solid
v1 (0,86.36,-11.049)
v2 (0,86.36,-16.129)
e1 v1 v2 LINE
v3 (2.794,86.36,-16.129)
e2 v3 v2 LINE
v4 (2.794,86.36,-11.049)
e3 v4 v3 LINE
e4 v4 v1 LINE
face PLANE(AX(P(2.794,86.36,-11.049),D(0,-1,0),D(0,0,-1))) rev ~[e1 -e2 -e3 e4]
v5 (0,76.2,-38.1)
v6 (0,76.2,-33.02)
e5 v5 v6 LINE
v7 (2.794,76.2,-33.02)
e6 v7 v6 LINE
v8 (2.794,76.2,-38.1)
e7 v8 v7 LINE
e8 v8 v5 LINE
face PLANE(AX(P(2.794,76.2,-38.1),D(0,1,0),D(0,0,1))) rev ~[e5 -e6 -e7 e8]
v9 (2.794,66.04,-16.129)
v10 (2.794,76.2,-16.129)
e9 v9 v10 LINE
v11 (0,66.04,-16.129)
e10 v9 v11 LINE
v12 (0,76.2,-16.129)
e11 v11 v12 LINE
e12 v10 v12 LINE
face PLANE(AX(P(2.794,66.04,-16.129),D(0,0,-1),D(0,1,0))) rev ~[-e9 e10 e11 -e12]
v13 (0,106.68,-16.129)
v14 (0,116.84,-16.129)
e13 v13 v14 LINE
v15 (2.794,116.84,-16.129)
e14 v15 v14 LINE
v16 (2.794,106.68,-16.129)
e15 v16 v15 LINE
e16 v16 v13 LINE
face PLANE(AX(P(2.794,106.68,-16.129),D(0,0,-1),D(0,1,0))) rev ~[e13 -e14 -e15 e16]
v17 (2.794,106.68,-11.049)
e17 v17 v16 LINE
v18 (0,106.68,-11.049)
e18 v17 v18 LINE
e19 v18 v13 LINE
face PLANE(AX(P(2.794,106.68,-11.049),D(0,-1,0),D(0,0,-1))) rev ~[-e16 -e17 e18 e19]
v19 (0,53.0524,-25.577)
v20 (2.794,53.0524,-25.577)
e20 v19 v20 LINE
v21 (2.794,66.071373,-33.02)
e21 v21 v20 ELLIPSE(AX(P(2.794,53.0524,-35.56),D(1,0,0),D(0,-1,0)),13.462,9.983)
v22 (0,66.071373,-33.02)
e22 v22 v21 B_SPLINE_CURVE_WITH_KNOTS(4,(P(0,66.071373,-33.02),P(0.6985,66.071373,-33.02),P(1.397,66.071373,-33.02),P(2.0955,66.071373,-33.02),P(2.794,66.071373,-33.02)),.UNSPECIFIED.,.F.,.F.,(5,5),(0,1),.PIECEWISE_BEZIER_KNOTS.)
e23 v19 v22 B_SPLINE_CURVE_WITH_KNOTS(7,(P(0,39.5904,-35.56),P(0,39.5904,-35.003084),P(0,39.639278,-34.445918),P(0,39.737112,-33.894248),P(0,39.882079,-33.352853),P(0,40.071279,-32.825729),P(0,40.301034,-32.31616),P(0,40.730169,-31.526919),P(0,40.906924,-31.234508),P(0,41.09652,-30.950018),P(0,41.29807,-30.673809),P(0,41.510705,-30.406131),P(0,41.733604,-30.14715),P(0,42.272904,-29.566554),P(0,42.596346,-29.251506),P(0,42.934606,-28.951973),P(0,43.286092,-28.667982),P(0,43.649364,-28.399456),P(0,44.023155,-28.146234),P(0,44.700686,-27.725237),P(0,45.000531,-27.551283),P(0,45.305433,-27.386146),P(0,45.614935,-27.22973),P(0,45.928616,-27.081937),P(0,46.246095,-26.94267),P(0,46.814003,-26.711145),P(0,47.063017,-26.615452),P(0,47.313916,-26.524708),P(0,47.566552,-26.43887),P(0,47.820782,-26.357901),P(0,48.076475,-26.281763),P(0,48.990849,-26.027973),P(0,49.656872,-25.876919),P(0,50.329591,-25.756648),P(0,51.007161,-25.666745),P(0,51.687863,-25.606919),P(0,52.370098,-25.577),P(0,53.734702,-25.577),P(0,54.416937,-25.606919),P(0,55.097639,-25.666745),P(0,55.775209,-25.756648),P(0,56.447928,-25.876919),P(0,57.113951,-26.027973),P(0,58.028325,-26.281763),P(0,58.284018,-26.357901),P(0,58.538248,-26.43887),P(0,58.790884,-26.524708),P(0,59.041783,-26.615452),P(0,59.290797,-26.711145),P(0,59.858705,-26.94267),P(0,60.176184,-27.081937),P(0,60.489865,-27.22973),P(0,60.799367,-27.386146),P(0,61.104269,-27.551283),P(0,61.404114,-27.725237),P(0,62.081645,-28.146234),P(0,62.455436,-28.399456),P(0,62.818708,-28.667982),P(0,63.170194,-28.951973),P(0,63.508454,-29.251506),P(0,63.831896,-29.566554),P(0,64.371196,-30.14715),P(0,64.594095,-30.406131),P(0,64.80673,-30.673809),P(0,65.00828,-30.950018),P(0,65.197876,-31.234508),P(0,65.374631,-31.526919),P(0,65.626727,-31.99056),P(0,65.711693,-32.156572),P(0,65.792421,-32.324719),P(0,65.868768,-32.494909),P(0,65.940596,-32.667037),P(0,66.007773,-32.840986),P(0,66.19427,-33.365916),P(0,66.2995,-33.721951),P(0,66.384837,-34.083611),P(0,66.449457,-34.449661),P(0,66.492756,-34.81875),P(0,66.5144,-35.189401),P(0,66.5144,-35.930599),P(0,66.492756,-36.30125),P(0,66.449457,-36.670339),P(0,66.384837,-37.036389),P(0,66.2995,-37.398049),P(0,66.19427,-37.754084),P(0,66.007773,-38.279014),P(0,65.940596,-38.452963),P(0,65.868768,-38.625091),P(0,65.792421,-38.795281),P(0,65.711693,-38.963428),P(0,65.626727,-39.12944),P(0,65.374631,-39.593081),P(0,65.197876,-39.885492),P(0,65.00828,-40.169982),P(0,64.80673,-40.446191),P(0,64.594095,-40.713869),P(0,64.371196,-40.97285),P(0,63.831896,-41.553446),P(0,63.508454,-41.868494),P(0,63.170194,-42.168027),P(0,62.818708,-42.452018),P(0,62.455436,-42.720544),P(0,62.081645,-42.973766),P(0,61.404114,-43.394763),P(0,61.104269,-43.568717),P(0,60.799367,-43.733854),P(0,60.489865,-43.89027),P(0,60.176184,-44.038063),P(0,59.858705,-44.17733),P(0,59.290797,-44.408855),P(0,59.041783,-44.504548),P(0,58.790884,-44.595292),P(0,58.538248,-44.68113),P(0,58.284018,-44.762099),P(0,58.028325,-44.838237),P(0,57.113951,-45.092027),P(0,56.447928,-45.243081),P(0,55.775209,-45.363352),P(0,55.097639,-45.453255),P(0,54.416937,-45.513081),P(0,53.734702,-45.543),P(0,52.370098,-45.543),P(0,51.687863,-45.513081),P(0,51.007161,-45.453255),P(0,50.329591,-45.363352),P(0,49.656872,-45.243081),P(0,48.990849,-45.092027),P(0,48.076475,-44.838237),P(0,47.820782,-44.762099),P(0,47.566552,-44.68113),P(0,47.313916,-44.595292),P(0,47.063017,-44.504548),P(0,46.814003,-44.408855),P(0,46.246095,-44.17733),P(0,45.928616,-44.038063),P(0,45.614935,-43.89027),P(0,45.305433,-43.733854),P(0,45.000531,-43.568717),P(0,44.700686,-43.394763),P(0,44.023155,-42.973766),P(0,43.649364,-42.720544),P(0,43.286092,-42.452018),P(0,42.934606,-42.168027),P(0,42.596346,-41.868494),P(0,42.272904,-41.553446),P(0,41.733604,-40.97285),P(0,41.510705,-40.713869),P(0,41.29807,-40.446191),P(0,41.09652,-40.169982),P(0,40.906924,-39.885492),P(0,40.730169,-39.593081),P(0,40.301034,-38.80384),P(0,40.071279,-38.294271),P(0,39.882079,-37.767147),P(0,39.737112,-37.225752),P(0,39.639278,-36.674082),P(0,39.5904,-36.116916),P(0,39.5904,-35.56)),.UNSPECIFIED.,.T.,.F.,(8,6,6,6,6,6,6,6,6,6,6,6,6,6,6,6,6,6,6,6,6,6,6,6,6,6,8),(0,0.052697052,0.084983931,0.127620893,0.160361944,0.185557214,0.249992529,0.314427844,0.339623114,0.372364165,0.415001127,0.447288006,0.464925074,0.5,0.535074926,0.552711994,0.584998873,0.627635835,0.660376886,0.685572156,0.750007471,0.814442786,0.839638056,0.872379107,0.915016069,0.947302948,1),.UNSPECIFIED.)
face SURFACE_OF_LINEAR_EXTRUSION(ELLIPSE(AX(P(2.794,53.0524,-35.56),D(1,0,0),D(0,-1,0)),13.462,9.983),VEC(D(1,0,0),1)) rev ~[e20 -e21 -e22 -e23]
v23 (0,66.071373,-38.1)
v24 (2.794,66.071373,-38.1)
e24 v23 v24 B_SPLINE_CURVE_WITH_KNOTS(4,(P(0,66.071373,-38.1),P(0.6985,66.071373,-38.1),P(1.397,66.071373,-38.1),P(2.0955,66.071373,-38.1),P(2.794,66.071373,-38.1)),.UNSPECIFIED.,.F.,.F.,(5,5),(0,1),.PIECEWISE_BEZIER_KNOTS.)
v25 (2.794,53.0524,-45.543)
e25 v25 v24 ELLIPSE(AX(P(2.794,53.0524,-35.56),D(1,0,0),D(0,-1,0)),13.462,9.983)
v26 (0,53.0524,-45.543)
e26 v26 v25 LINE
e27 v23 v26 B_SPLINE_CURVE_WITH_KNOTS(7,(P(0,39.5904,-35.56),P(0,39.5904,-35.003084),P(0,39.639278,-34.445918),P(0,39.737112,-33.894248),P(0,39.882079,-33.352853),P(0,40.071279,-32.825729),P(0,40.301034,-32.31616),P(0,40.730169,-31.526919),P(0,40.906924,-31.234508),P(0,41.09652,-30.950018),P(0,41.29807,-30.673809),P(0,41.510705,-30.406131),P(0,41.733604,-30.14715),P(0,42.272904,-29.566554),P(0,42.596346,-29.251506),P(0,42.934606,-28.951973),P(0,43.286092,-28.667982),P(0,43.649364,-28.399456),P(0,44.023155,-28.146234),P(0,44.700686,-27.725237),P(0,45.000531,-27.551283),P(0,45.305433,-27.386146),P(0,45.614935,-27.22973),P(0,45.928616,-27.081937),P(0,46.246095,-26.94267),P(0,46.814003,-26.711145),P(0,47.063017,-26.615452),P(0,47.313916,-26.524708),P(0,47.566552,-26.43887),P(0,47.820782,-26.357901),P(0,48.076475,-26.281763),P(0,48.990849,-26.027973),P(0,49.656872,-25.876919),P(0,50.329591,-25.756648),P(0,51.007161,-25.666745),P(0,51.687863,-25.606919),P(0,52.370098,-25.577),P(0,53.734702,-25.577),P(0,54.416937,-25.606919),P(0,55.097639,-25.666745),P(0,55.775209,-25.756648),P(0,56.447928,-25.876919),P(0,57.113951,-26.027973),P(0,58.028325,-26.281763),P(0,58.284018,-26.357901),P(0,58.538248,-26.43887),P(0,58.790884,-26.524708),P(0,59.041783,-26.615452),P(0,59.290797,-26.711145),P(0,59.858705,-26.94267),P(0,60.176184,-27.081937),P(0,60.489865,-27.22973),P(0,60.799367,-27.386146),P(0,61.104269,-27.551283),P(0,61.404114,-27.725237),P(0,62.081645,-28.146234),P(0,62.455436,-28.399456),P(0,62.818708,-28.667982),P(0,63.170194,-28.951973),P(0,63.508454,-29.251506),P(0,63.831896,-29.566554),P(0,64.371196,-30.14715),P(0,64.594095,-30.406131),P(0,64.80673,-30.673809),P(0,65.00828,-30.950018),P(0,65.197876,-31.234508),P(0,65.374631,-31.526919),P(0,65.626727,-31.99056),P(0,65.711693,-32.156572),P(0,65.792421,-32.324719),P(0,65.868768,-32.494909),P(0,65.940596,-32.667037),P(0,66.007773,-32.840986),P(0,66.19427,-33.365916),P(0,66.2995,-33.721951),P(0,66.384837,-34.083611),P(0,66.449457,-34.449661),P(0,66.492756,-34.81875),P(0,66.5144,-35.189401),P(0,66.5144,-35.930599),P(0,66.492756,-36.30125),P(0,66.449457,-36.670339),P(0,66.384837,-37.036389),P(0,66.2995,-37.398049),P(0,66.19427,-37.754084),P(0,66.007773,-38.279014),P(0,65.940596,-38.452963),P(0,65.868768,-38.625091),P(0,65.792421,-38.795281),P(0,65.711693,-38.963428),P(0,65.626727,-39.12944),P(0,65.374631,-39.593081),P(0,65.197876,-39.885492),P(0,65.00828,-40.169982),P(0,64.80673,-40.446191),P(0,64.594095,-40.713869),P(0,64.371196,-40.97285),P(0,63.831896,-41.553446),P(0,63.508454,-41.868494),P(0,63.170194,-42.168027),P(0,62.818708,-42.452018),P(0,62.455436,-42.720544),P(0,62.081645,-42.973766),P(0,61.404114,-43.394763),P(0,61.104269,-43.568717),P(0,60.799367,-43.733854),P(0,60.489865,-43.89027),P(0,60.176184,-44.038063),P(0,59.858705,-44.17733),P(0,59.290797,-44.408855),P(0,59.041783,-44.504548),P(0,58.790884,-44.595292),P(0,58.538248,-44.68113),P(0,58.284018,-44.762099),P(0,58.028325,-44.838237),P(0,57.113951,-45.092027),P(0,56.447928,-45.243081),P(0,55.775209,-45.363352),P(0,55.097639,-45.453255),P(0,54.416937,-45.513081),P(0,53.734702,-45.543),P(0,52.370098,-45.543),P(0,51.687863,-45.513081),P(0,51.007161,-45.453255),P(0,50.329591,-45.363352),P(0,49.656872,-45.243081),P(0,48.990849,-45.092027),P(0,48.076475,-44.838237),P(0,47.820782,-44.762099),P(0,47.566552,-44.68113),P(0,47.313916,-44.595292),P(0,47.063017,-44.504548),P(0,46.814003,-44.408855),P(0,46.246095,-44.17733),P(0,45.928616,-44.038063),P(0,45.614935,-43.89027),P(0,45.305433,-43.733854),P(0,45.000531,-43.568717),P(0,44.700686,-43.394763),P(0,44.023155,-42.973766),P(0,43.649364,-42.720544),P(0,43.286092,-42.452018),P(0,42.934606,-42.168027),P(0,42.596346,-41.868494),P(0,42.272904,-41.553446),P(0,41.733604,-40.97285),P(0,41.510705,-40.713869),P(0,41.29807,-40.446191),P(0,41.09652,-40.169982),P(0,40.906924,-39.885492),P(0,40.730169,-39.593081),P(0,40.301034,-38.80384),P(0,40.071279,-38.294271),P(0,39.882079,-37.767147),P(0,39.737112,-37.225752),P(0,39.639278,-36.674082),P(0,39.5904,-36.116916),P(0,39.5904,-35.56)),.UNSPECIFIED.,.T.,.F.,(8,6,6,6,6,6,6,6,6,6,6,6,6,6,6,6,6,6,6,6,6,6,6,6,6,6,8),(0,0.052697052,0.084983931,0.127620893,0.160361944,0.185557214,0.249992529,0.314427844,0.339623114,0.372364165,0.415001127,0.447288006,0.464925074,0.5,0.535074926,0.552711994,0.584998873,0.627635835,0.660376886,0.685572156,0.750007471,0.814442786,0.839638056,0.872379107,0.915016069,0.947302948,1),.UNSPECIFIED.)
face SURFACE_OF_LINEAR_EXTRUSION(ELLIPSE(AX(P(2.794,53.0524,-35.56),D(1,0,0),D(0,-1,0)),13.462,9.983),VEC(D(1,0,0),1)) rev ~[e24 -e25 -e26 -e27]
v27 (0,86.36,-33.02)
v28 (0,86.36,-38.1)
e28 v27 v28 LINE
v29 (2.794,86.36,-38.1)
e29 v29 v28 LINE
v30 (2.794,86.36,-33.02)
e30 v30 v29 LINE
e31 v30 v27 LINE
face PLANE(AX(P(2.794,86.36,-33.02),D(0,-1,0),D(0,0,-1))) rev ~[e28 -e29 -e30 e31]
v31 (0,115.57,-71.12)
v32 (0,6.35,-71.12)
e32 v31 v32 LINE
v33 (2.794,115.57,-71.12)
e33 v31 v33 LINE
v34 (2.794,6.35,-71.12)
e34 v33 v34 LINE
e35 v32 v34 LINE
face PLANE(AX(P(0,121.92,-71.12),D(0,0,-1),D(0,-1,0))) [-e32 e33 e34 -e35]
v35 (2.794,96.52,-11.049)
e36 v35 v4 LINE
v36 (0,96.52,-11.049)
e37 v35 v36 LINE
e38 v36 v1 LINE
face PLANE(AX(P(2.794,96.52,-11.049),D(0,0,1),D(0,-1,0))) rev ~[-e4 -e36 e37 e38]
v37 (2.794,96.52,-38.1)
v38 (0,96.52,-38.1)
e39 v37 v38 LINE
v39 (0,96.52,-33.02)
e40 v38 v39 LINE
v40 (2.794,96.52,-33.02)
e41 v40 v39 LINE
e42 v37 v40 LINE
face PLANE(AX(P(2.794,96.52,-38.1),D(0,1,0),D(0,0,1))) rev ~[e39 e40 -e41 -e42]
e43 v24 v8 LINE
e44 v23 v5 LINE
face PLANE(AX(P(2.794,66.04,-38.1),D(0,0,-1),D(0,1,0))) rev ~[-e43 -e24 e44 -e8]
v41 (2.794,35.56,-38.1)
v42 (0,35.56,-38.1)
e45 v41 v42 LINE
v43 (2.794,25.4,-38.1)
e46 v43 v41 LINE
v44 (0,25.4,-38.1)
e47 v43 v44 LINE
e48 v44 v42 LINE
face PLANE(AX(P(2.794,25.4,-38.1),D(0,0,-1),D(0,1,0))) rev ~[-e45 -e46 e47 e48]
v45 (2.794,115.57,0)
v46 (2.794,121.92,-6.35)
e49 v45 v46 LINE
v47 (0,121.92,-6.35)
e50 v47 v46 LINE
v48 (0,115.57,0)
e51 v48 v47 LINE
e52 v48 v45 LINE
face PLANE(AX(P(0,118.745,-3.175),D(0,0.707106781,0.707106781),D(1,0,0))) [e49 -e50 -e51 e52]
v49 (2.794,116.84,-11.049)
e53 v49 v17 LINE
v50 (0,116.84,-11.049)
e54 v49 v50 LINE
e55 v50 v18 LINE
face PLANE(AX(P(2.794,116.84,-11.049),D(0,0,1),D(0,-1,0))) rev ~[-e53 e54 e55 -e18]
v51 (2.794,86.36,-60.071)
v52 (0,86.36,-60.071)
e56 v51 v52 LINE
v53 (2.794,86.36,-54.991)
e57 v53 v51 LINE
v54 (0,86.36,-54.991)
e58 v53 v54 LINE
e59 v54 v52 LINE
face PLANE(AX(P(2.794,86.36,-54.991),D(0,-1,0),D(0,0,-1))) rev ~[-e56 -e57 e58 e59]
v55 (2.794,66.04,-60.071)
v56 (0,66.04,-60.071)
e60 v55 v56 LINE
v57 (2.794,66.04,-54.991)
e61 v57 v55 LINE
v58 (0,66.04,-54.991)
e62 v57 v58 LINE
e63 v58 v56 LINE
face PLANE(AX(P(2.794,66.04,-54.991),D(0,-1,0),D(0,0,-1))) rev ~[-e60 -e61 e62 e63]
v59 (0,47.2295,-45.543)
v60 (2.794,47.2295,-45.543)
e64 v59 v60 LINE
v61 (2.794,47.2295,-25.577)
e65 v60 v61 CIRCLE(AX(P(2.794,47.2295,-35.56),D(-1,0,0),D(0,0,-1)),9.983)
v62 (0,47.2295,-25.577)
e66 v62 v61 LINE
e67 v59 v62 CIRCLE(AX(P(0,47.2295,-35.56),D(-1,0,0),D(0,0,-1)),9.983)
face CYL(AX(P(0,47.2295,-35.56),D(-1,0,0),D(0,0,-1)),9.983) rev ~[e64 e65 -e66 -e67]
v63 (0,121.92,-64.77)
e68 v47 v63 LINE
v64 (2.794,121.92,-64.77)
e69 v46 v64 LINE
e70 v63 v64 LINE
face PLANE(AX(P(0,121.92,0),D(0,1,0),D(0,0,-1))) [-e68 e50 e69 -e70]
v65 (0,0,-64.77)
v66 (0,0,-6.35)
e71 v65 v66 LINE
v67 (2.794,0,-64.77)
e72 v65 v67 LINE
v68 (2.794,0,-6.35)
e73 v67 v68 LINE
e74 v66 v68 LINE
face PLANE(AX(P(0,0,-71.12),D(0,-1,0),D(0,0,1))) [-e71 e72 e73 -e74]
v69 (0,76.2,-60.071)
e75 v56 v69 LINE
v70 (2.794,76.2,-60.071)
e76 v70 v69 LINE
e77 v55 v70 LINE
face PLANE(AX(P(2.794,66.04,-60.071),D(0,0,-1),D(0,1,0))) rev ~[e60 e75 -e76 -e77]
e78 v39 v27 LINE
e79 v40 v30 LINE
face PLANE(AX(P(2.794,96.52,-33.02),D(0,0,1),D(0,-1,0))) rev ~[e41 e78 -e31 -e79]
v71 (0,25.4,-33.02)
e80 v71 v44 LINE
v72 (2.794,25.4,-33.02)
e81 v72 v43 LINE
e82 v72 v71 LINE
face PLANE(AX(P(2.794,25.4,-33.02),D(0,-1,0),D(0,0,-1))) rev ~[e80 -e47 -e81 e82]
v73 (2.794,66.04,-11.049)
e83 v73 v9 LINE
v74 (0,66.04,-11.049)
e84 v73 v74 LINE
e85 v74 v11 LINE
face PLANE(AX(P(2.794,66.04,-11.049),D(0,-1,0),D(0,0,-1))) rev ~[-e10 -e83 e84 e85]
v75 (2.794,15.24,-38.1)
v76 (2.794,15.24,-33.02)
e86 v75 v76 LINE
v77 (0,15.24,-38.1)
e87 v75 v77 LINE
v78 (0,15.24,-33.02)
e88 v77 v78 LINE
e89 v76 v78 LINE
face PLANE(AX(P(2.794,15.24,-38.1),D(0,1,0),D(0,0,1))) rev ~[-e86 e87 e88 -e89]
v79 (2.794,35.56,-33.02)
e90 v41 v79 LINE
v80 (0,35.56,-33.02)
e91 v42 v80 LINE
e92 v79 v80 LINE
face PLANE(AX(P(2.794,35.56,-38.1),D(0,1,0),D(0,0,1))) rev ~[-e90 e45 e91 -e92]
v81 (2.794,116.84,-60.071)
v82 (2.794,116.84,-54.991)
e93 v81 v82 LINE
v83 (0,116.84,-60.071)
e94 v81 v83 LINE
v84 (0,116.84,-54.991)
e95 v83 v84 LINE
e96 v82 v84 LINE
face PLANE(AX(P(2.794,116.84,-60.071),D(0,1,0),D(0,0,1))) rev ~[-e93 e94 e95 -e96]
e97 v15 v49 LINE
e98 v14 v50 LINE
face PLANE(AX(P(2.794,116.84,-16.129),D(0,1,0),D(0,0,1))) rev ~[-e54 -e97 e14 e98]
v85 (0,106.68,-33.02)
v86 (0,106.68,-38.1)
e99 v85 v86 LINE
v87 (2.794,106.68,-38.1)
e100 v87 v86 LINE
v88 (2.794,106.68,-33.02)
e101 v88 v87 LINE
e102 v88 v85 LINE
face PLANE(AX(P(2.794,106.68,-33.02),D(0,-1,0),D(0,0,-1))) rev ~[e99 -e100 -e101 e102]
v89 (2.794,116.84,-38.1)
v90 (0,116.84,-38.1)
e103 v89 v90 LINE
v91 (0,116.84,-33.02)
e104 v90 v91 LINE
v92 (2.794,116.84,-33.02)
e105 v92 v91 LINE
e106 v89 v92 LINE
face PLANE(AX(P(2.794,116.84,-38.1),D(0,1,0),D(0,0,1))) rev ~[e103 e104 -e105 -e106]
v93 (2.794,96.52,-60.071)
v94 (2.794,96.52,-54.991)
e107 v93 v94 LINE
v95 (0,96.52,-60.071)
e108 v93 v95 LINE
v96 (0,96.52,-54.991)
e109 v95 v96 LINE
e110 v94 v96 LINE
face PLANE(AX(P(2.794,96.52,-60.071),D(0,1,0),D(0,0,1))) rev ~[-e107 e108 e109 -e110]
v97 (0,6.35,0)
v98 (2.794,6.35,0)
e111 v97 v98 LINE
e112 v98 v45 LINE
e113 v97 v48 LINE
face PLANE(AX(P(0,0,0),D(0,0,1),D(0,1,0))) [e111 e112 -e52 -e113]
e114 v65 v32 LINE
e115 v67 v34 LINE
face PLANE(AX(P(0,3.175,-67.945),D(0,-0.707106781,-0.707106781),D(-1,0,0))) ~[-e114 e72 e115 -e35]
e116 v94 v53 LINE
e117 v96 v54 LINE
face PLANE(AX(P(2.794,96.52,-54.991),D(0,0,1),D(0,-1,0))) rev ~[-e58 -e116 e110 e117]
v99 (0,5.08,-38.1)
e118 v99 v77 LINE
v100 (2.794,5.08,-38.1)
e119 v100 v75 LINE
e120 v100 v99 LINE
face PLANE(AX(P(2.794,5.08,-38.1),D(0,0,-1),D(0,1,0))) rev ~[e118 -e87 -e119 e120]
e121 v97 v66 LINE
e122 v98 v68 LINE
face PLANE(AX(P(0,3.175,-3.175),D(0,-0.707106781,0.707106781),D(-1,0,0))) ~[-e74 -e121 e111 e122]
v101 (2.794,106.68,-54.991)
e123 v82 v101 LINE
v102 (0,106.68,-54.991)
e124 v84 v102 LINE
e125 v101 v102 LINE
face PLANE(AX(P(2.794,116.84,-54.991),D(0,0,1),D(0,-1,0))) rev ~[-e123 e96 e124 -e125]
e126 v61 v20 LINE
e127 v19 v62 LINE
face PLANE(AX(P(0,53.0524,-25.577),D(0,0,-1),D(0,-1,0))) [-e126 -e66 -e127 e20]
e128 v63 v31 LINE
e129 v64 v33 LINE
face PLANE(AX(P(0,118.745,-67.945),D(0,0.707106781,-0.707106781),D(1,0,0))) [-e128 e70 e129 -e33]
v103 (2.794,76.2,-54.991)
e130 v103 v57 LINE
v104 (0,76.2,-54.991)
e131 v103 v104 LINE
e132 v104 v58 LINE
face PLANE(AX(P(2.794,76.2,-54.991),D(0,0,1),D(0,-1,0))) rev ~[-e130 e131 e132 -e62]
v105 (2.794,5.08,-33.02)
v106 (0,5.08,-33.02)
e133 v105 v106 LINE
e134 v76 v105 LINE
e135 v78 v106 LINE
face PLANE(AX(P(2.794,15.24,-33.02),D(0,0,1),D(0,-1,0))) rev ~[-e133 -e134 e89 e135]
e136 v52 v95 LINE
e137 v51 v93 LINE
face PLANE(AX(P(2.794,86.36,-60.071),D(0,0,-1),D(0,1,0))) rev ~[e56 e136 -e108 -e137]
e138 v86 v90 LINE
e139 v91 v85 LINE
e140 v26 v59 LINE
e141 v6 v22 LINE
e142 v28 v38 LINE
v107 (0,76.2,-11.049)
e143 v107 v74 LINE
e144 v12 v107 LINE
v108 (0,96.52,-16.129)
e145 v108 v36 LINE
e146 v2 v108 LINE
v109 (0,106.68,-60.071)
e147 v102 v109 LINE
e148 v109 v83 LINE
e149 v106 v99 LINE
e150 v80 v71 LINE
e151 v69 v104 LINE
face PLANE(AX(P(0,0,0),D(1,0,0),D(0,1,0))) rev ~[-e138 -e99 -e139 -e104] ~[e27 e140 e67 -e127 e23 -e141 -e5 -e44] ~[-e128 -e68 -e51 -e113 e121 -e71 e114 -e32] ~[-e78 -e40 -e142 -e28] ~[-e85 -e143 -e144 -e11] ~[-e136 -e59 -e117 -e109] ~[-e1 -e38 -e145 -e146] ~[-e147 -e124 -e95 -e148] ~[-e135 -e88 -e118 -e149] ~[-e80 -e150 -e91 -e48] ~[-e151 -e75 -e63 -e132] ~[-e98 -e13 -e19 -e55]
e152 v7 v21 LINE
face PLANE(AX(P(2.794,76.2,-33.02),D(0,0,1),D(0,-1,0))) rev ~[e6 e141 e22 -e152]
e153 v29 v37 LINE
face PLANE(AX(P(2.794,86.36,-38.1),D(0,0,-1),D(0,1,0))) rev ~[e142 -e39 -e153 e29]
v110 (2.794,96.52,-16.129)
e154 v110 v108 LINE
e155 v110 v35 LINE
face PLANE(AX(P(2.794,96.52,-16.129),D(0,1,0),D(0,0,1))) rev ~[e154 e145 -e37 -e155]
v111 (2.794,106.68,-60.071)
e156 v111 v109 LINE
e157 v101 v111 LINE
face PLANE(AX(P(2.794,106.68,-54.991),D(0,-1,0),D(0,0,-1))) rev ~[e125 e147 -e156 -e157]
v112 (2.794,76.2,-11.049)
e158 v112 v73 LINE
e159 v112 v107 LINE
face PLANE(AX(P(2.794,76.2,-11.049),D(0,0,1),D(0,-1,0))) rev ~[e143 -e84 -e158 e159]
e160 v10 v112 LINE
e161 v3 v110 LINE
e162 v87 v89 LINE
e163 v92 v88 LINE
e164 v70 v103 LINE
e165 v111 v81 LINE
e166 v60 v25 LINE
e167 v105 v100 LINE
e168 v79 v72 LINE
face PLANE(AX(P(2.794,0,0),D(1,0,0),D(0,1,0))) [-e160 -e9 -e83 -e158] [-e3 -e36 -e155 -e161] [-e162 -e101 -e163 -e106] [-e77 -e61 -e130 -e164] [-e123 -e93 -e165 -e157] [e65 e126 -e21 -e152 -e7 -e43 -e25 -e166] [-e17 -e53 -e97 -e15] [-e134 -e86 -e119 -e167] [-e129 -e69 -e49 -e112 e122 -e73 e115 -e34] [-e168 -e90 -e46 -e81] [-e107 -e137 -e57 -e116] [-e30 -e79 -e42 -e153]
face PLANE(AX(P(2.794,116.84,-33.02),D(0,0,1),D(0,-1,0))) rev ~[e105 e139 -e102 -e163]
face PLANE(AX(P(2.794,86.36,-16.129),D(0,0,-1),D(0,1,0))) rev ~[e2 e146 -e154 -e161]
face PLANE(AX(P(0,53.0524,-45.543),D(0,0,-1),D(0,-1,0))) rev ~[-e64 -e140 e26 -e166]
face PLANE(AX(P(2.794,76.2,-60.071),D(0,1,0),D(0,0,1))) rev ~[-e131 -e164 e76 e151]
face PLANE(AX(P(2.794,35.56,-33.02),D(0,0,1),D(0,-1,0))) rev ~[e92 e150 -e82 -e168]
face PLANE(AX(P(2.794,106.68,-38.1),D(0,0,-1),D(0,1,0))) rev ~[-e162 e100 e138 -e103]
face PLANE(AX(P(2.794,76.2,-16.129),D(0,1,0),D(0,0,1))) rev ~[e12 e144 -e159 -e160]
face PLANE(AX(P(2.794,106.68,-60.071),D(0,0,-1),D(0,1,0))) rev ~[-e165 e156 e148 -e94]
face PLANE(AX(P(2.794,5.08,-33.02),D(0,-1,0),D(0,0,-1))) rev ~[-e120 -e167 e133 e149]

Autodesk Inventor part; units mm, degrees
ref_plane "YZ Plane" through (0, 0, 0) normal (1, 0, 0) x (0, 1, 0)
ref_plane "XZ Plane" through (0, 0, 0) normal (0, 1, 0) x (-1, 0, 0)
ref_plane "XY Plane" through (0, 0, 0) normal (0, 0, 1) x (1, 0, 0)
sketch "Sketch1" plane through (0, 0, 0) normal (1, 0, 0) x (0, 1, 0)
  line L0 (0, 0) -> (121.92, 0)
  line L1 (121.92, 0) -> (121.92, -71.12)
  line L2 (121.92, -71.12) -> (0, -71.12)
  line L3 (0, -71.12) -> (0, 0)
  dimension "d0" = 121.92
  dimension "d1" = 71.12
extrude "Extrusion1" add sketch "Sketch1" along normal blind 2.794
sketch "Sketch2" plane through (2.794, 0, 0) normal (1, 0, 0) x (0, 0, -1)
  line L0 (0, 121.92) -> (0, 0) projected
  line L1 (0, 0) -> (71.12, 0) projected
  line L2 (71.12, 0) -> (71.12, 121.92) projected
  line L3 (71.12, 121.92) -> (0, 121.92) projected
  line L4 (71.12, 121.92) -> (0, 121.92) construction
  line L5 (35.56, 121.92) -> (35.56, 0) construction
  line L6 (33.02, 5.08) -> (38.1, 5.08)
  line L7 (38.1, 5.08) -> (38.1, 15.24)
  line L8 (38.1, 15.24) -> (33.02, 15.24)
  line L9 (33.02, 15.24) -> (33.02, 5.08)
  line L10 (33.02, 25.4) -> (38.1, 25.4)
  line L11 (38.1, 25.4) -> (38.1, 35.56)
  line L12 (38.1, 35.56) -> (33.02, 35.56)
  line L13 (33.02, 35.56) -> (33.02, 25.4)
  line L14 (33.02, 45.72) -> (38.1, 45.72)
  line L15 (38.1, 45.72) -> (38.1, 55.88)
  line L16 (38.1, 55.88) -> (33.02, 55.88)
  line L17 (33.02, 55.88) -> (33.02, 45.72)
  line L18 (33.02, 66.04) -> (38.1, 66.04)
  line L19 (38.1, 66.04) -> (38.1, 76.2)
  line L20 (38.1, 76.2) -> (33.02, 76.2)
  line L21 (33.02, 76.2) -> (33.02, 66.04)
  line L22 (33.02, 86.36) -> (38.1, 86.36)
  line L23 (38.1, 86.36) -> (38.1, 96.52)
  line L24 (38.1, 96.52) -> (33.02, 96.52)
  line L25 (33.02, 96.52) -> (33.02, 86.36)
  line L26 (33.02, 106.68) -> (38.1, 106.68)
  line L27 (38.1, 106.68) -> (38.1, 116.84)
  line L28 (38.1, 116.84) -> (33.02, 116.84)
  line L29 (33.02, 116.84) -> (33.02, 106.68)
  line L30 (11.049, 86.36) -> (16.129, 86.36)
  line L31 (16.129, 86.36) -> (16.129, 96.52)
  line L32 (11.049, 96.52) -> (11.049, 86.36)
  line L33 (16.129, 96.52) -> (11.049, 96.52)
  line L34 (11.049, 106.68) -> (16.129, 106.68)
  line L35 (11.049, 116.84) -> (11.049, 106.68)
  line L36 (16.129, 106.68) -> (16.129, 116.84)
  line L37 (16.129, 116.84) -> (11.049, 116.84)
  line L38 (11.049, 66.04) -> (16.129, 66.04)
  line L39 (11.049, 76.2) -> (11.049, 66.04)
  line L40 (16.129, 66.04) -> (16.129, 76.2)
  line L41 (16.129, 76.2) -> (11.049, 76.2)
  line L42 (54.991, 86.36) -> (60.071, 86.36)
  line L43 (60.071, 86.36) -> (60.071, 96.52)
  line L44 (54.991, 96.52) -> (54.991, 86.36)
  line L45 (60.071, 96.52) -> (54.991, 96.52)
  line L46 (54.991, 106.68) -> (60.071, 106.68)
  line L47 (54.991, 116.84) -> (54.991, 106.68)
  line L48 (60.071, 106.68) -> (60.071, 116.84)
  line L49 (60.071, 116.84) -> (54.991, 116.84)
  line L50 (54.991, 66.04) -> (60.071, 66.04)
  line L51 (54.991, 76.2) -> (54.991, 66.04)
  line L52 (60.071, 66.04) -> (60.071, 76.2)
  line L53 (60.071, 76.2) -> (54.991, 76.2)
  line L54 (33.02, 86.36) -> (38.1, 86.36)
  line L55 (38.1, 86.36) -> (38.1, 96.52)
  line L56 (33.02, 96.52) -> (33.02, 86.36)
  line L57 (38.1, 96.52) -> (33.02, 96.52)
  line L58 (33.02, 106.68) -> (38.1, 106.68)
  line L59 (33.02, 116.84) -> (33.02, 106.68)
  line L60 (38.1, 106.68) -> (38.1, 116.84)
  line L61 (38.1, 116.84) -> (33.02, 116.84)
  line L62 (33.02, 66.04) -> (38.1, 66.04)
  line L63 (33.02, 76.2) -> (33.02, 66.04)
  line L64 (38.1, 66.04) -> (38.1, 76.2)
  line L65 (38.1, 76.2) -> (33.02, 76.2)
  point P0 (35.56, 15.24)
  point P1 (35.56, 35.56)
  point P2 (35.56, 55.88)
  point P3 (35.56, 76.2)
  point P4 (35.56, 96.52)
  point P5 (35.56, 116.84)
  point P6 (13.589, 96.52)
  point P7 (13.589, 116.84)
  point P8 (13.589, 76.2)
  point P9 (57.531, 96.52)
  point P10 (57.531, 116.84)
  point P11 (57.531, 76.2)
  point P12 (35.56, 96.52)
  point P13 (35.56, 116.84)
  point P14 (35.56, 76.2)
  dimension "d4" = 5.08
  dimension "d5" = 10.16
  dimension "d6" = 5.08
  dimension "d9" = 20.32
  dimension "d18" = 21.971
  dimension "d21" = 21.971
extrude "Extrusion2" cut sketch "Sketch2" against normal blind 25.4 contours L3 L2 L1 L0 | L32 L33 L31 L30 | L35 L37 L36 L34 | L39 L41 L40 L38 | L44 L45 L43 L42 | L47 L49 L48 L46 | L51 L53 L52 L50 keep common part
extrude "Extrusion3" cut sketch "Sketch2" against normal blind 25.4 keep common part
sketch "Sketch3" plane through (2.794, 0, 0) normal (1, 0, 0) x (0, 0, -1)
  ellipse E0 centre (35.56, 53.0414) end of major axis (35.56, 41.2576) minor radius 8.332 (40.2212, 62.8087) -> (30.9261, 62.8347) ccw construction
  spline S0 degree 3 poles (30.9261, 62.8347) (30.9327, 62.8286) (30.9386, 62.8221) (30.9557, 62.8007) (30.9663, 62.7802) (30.977, 62.7425) (30.9787, 62.7187) (30.9751, 62.672) (30.9665, 62.6409) (30.9201, 62.5239) (30.844, 62.4329) (30.6139, 62.201) (30.3871, 62.0485) (30.1451, 61.9341) (30.1067, 61.9173) (30.0669, 61.9017) knots 0.147565 0.147565 0.147565 0.147565 0.150034 0.150034 0.1558 0.1558 0.161773 0.161773 0.169845 0.169845 0.199517 0.199517 0.267842 0.267842 0.279835 0.279835 0.279835 0.279835 construction
  ellipse E1 centre (35.56, 53.0414) end of major axis (35.56, 41.2576) minor radius 8.332 (30.0669, 61.9017) -> (27.23, 53.3005) ccw construction
  spline S1 degree 3 poles (27.23, 53.3005) (27.2588, 53.2719) (27.2851, 53.2407) (27.334, 53.1732) (27.3565, 53.1364) (27.3764, 53.0984) knots -0.025032 -0.025032 -0.025032 -0.025032 -0.012859 -0.012859 0 0 0 0 construction
  spline S2 degree 3 poles (27.3764, 53.0984) (27.3563, 53.0613) (27.3336, 53.0254) (27.2841, 52.9599) (27.2576, 52.9297) (27.2286, 52.9024) knots -0.024627 -0.024627 -0.024627 -0.024627 -0.011976 -0.011976 -0.000005 -0.000005 -0.000005 -0.000005 construction
  ellipse E2 centre (35.56, 53.0414) end of major axis (35.56, 41.2576) minor radius 8.332 (27.2286, 52.9024) -> (27.2377, 52.473) ccw construction
  spline S3 degree 3 poles (27.2377, 52.473) (27.2678, 52.4474) (27.2955, 52.4189) (27.3478, 52.3562) (27.372, 52.3217) (27.3937, 52.2857) knots -0.024476 -0.024476 -0.024476 -0.024476 -0.012604 -0.012604 0 0 0 0 construction
  spline S4 degree 3 poles (27.3937, 52.2857) (27.3755, 52.2465) (27.3546, 52.2085) (27.3086, 52.1382) (27.2836, 52.1055) (27.256, 52.0754) knots -0.025198 -0.025198 -0.025198 -0.025198 -0.012267 -0.012267 -0.000005 -0.000005 -0.000005 -0.000005 construction
  ellipse E3 centre (35.56, 53.0414) end of major axis (35.56, 41.2576) minor radius 8.332 (27.256, 52.0754) -> (39.4571, 42.626) ccw construction
  spline S5 degree 3 poles (39.4571, 42.626) (39.4604, 42.6731) (39.4664, 42.7203) (39.4838, 42.8124) (39.4952, 42.8577) (39.5094, 42.902) knots -0.028123 -0.028123 -0.028123 -0.028123 -0.013949 -0.013949 0 0 0 0 construction
  spline S6 degree 3 poles (39.5094, 42.902) (39.5437, 42.8955) (39.577, 42.8851) (39.6424, 42.8569) (39.674, 42.839) (39.7037, 42.8182) knots -0.021367 -0.021367 -0.021367 -0.021367 -0.01089 -0.01089 -0.00001 -0.00001 -0.00001 -0.00001 construction
  ellipse E4 centre (35.56, 53.0414) end of major axis (35.56, 41.2576) minor radius 8.332 (39.7037, 42.8182) -> (39.9645, 43.0386) ccw construction
  spline S7 degree 3 poles (39.9645, 43.0386) (39.9654, 43.0862) (39.9691, 43.1338) (39.9819, 43.2275) (39.991, 43.274) (40.0029, 43.3195) knots -0.02838 -0.02838 -0.02838 -0.02838 -0.014121 -0.014121 0 0 0 0 construction
  spline S8 degree 3 poles (40.0029, 43.3195) (40.0373, 43.3164) (40.0711, 43.3093) (40.1378, 43.2875) (40.1703, 43.2728) (40.2011, 43.2549) knots -0.021052 -0.021052 -0.021052 -0.021052 -0.010689 -0.010689 -0.000009 -0.000009 -0.000009 -0.000009 construction
  ellipse E5 centre (35.56, 53.0414) end of major axis (35.56, 41.2576) minor radius 8.332 (40.2011, 43.2549) -> (41.1095, 61.8311) ccw construction
  spline S9 degree 3 poles (41.1095, 61.8311) (41.0496, 61.8526) (40.9919, 61.8776) (40.734, 62.0024) (40.5086, 62.1569) (40.2806, 62.3908) (40.2052, 62.4825) (40.1599, 62.5999) (40.1516, 62.6311) (40.1484, 62.6778) (40.1503, 62.7016) (40.1613, 62.7392) (40.1721, 62.7596) (40.1941, 62.7867) (40.2073, 62.7989) (40.2212, 62.8087) knots 0.103426 0.103426 0.103426 0.103426 0.121046 0.121046 0.189371 0.189371 0.219043 0.219043 0.227115 0.227115 0.233088 0.233088 0.238854 0.238854 0.243583 0.243583 0.243583 0.243583 construction
  ellipse E6 centre (35.56, 53.0524) end of major axis (35.56, 40.1371) minor radius 9.1321 construction
  ellipse E7 centre (35.56, 52.9268) end of major axis (35.56, 42.9637) minor radius 7.045 (39.5734, 61.1151) -> (37.2879, 62.5856) ccw construction
  line L0 (37.2879, 62.5856) -> (37.0953, 61.1151) construction
  line L1 (37.0953, 61.1151) -> (39.5734, 61.1151) construction
  line L2 (29.0123, 59.6726) -> (28.7127, 59.6726) construction
  ellipse E8 centre (35.56, 52.9268) end of major axis (35.56, 41.1252) minor radius 8.345 (42.4073, 59.6726) -> (28.7127, 59.6726) ccw construction
  line L3 (42.4073, 59.6726) -> (42.1077, 59.6726) construction
  ellipse E9 centre (35.56, 52.9268) end of major axis (35.56, 64.3833) minor radius 8.101 (42.4504, 58.9514) -> (42.1077, 59.6726) ccw construction
  line L4 (42.4504, 58.9514) -> (36.9155, 58.9514) construction
  line L5 (36.9155, 58.9514) -> (37.0257, 59.6726) construction
  line L6 (37.0257, 59.6726) -> (36.1561, 59.6726) construction
  line L7 (36.1561, 59.6726) -> (36.0459, 58.9514) construction
  line L8 (36.0459, 58.9514) -> (33.4082, 58.9514) construction
  line L9 (33.4082, 58.9514) -> (33.9116, 57.9159) construction
  line L10 (33.9116, 57.9159) -> (33.2456, 57.2685) construction
  line L11 (33.2456, 57.2685) -> (32.7453, 57.1196) construction
  line L12 (32.7453, 57.1196) -> (31.855, 58.9514) construction
  line L13 (31.855, 58.9514) -> (28.6696, 58.9514) construction
  ellipse E10 centre (35.56, 52.9268) end of major axis (35.56, 64.3833) minor radius 8.101 (29.0123, 59.6726) -> (28.6696, 58.9514) ccw construction
  line L14 (32.132, 61.1151) -> (36.1698, 61.1151) construction
  line L15 (36.1698, 61.1151) -> (36.3931, 62.82) construction
  ellipse E11 centre (35.56, 52.9268) end of major axis (35.56, 42.9637) minor radius 7.045 (36.3931, 62.82) -> (31.9524, 61.4845) ccw construction
  line L16 (31.9524, 61.4845) -> (32.132, 61.1151) construction
  line L17 (38.6371, 57.0165) -> (40.2416, 58.5764) construction
  line L18 (40.2416, 58.5764) -> (40.9667, 57.0846) construction
  line L19 (40.9667, 57.0846) -> (40.1513, 56.2919) construction
  line L20 (40.1513, 56.2919) -> (38.6371, 57.0165) construction
  line L21 (38.6371, 57.0165) -> (40.1513, 56.2919) construction
  line L22 (40.1513, 56.2919) -> (40.9667, 57.0846) construction
  line L23 (40.9667, 57.0846) -> (40.7011, 57.631) construction
  line L24 (40.7011, 57.631) -> (41.0218, 57.631) construction
  ellipse E12 centre (35.56, 52.9268) end of major axis (35.56, 43.8829) minor radius 6.395 (30.0982, 57.631) -> (41.0218, 57.631) ccw construction
  line L25 (30.0982, 57.631) -> (32.4968, 57.631) construction
  line L26 (32.4968, 57.631) -> (32.7453, 57.1196) construction
  line L27 (32.7453, 57.1196) -> (33.2456, 57.2685) construction
  line L28 (33.2456, 57.2685) -> (33.6185, 57.631) construction
  line L29 (33.6185, 57.631) -> (39.2691, 57.631) construction
  line L30 (39.2691, 57.631) -> (38.6371, 57.0165) construction
  ellipse E13 centre (35.56, 53.0524) end of major axis (35.56, 39.5904) minor radius 9.983
  point P0 (0, 0)
  dimension "d26" = 13.462
extrude "Extrusion4" cut sketch "Sketch3" against normal blind 25.4
sketch "Sketch4" plane through (0, 0, 0) normal (-1, 0, 0) x (0, 0, 1)
  point P0 (0, 0)
sketch "Sketch5" plane through (0, 0, 0) normal (-1, 0, 0) x (0, 0, 1)
  ellipse E0 centre (-35.56, 53.0524) end of major axis (-35.56, 66.5144) minor radius 9.983 (-38.1, 66.0713) -> (-33.02, 66.0713) ccw projected
  line L0 (-38.1, 76.2) -> (-38.1, 66.0713) projected
  line L1 (-33.02, 76.2) -> (-38.1, 76.2) projected
  line L2 (-33.02, 66.0713) -> (-33.02, 76.2) projected
  line L3 (-60.071, 76.2) -> (-60.071, 66.04) projected
  line L4 (-54.991, 76.2) -> (-60.071, 76.2) projected
  line L5 (-54.991, 66.04) -> (-54.991, 76.2) projected
  line L6 (-60.071, 66.04) -> (-54.991, 66.04) projected
  line L7 (-60.071, 116.84) -> (-60.071, 106.68) projected
  line L8 (-54.991, 116.84) -> (-60.071, 116.84) projected
  line L9 (-54.991, 106.68) -> (-54.991, 116.84) projected
  line L10 (-60.071, 106.68) -> (-54.991, 106.68) projected
  line L11 (-60.071, 96.52) -> (-60.071, 86.36) projected
  line L12 (-54.991, 96.52) -> (-60.071, 96.52) projected
  line L13 (-54.991, 86.36) -> (-54.991, 96.52) projected
  line L14 (-60.071, 86.36) -> (-54.991, 86.36) projected
  line L15 (-16.129, 76.2) -> (-16.129, 66.04) projected
  line L16 (-11.049, 76.2) -> (-16.129, 76.2) projected
  line L17 (-11.049, 66.04) -> (-11.049, 76.2) projected
  line L18 (-16.129, 66.04) -> (-11.049, 66.04) projected
  line L19 (-16.129, 116.84) -> (-16.129, 106.68) projected
  line L20 (-11.049, 116.84) -> (-16.129, 116.84) projected
  line L21 (-11.049, 106.68) -> (-11.049, 116.84) projected
  line L22 (-16.129, 106.68) -> (-11.049, 106.68) projected
  line L23 (-16.129, 96.52) -> (-16.129, 86.36) projected
  line L24 (-11.049, 96.52) -> (-16.129, 96.52) projected
  line L25 (-11.049, 86.36) -> (-11.049, 96.52) projected
  line L26 (-16.129, 86.36) -> (-11.049, 86.36) projected
  line L27 (-38.1, 116.84) -> (-38.1, 106.68) projected
  line L28 (-33.02, 116.84) -> (-38.1, 116.84) projected
  line L29 (-33.02, 106.68) -> (-33.02, 116.84) projected
  line L30 (-38.1, 106.68) -> (-33.02, 106.68) projected
  line L31 (-38.1, 96.52) -> (-38.1, 86.36) projected
  line L32 (-33.02, 96.52) -> (-38.1, 96.52) projected
  line L33 (-33.02, 86.36) -> (-33.02, 96.52) projected
  line L34 (-38.1, 86.36) -> (-33.02, 86.36) projected
  line L35 (-38.1, 35.56) -> (-38.1, 25.4) projected
  line L36 (-33.02, 35.56) -> (-38.1, 35.56) projected
  line L37 (-33.02, 25.4) -> (-33.02, 35.56) projected
  line L38 (-38.1, 25.4) -> (-33.02, 25.4) projected
  line L39 (-38.1, 15.24) -> (-38.1, 5.08) projected
  line L40 (-33.02, 15.24) -> (-38.1, 15.24) projected
  line L41 (-33.02, 5.08) -> (-33.02, 15.24) projected
  line L42 (-38.1, 5.08) -> (-33.02, 5.08) projected
  line L43 (0, 0) -> (0, 121.92) projected
  line L44 (0, 121.92) -> (-71.12, 121.92) projected
  line L45 (-71.12, 121.92) -> (-71.12, 0) projected
  line L46 (-71.12, 0) -> (0, 0) projected
  line L47 (-25.577, 53.0524) -> (-25.577, 47.2295)
  ellipse E1 centre (-35.56, 53.0524) end of major axis (-35.56, 66.5144) minor radius 9.983 (-38.1, 66.0713) -> (-33.02, 66.0713) ccw projected
  line L48 (-45.543, 53.0524) -> (-45.543, 47.2295)
  line L49 (-45.543, 47.2295) -> (-25.577, 47.2295) construction
  arc A0 (-45.543, 47.2295) -> (-25.577, 47.2295) centre (-35.56, 47.2295) ccw
  line L50 (-25.577, 53.0524) -> (-45.543, 53.0524)
extrude "Extrusion5" cut sketch "Sketch5" against normal blind 25.4 contours L50 E0 | E0 L47 A0 L48
chamfer "Chamfer1" distance 6.35 angle 45 4 edges at (1.397, 121.92, -71.12) (1.397, 121.92, 0) (1.397, 0, 0) (1.397, 0, -71.12)
equation "\"d9\" = 2 * d5"
properties part number "Sleigh" material "Polycarbonate, Smoke"
